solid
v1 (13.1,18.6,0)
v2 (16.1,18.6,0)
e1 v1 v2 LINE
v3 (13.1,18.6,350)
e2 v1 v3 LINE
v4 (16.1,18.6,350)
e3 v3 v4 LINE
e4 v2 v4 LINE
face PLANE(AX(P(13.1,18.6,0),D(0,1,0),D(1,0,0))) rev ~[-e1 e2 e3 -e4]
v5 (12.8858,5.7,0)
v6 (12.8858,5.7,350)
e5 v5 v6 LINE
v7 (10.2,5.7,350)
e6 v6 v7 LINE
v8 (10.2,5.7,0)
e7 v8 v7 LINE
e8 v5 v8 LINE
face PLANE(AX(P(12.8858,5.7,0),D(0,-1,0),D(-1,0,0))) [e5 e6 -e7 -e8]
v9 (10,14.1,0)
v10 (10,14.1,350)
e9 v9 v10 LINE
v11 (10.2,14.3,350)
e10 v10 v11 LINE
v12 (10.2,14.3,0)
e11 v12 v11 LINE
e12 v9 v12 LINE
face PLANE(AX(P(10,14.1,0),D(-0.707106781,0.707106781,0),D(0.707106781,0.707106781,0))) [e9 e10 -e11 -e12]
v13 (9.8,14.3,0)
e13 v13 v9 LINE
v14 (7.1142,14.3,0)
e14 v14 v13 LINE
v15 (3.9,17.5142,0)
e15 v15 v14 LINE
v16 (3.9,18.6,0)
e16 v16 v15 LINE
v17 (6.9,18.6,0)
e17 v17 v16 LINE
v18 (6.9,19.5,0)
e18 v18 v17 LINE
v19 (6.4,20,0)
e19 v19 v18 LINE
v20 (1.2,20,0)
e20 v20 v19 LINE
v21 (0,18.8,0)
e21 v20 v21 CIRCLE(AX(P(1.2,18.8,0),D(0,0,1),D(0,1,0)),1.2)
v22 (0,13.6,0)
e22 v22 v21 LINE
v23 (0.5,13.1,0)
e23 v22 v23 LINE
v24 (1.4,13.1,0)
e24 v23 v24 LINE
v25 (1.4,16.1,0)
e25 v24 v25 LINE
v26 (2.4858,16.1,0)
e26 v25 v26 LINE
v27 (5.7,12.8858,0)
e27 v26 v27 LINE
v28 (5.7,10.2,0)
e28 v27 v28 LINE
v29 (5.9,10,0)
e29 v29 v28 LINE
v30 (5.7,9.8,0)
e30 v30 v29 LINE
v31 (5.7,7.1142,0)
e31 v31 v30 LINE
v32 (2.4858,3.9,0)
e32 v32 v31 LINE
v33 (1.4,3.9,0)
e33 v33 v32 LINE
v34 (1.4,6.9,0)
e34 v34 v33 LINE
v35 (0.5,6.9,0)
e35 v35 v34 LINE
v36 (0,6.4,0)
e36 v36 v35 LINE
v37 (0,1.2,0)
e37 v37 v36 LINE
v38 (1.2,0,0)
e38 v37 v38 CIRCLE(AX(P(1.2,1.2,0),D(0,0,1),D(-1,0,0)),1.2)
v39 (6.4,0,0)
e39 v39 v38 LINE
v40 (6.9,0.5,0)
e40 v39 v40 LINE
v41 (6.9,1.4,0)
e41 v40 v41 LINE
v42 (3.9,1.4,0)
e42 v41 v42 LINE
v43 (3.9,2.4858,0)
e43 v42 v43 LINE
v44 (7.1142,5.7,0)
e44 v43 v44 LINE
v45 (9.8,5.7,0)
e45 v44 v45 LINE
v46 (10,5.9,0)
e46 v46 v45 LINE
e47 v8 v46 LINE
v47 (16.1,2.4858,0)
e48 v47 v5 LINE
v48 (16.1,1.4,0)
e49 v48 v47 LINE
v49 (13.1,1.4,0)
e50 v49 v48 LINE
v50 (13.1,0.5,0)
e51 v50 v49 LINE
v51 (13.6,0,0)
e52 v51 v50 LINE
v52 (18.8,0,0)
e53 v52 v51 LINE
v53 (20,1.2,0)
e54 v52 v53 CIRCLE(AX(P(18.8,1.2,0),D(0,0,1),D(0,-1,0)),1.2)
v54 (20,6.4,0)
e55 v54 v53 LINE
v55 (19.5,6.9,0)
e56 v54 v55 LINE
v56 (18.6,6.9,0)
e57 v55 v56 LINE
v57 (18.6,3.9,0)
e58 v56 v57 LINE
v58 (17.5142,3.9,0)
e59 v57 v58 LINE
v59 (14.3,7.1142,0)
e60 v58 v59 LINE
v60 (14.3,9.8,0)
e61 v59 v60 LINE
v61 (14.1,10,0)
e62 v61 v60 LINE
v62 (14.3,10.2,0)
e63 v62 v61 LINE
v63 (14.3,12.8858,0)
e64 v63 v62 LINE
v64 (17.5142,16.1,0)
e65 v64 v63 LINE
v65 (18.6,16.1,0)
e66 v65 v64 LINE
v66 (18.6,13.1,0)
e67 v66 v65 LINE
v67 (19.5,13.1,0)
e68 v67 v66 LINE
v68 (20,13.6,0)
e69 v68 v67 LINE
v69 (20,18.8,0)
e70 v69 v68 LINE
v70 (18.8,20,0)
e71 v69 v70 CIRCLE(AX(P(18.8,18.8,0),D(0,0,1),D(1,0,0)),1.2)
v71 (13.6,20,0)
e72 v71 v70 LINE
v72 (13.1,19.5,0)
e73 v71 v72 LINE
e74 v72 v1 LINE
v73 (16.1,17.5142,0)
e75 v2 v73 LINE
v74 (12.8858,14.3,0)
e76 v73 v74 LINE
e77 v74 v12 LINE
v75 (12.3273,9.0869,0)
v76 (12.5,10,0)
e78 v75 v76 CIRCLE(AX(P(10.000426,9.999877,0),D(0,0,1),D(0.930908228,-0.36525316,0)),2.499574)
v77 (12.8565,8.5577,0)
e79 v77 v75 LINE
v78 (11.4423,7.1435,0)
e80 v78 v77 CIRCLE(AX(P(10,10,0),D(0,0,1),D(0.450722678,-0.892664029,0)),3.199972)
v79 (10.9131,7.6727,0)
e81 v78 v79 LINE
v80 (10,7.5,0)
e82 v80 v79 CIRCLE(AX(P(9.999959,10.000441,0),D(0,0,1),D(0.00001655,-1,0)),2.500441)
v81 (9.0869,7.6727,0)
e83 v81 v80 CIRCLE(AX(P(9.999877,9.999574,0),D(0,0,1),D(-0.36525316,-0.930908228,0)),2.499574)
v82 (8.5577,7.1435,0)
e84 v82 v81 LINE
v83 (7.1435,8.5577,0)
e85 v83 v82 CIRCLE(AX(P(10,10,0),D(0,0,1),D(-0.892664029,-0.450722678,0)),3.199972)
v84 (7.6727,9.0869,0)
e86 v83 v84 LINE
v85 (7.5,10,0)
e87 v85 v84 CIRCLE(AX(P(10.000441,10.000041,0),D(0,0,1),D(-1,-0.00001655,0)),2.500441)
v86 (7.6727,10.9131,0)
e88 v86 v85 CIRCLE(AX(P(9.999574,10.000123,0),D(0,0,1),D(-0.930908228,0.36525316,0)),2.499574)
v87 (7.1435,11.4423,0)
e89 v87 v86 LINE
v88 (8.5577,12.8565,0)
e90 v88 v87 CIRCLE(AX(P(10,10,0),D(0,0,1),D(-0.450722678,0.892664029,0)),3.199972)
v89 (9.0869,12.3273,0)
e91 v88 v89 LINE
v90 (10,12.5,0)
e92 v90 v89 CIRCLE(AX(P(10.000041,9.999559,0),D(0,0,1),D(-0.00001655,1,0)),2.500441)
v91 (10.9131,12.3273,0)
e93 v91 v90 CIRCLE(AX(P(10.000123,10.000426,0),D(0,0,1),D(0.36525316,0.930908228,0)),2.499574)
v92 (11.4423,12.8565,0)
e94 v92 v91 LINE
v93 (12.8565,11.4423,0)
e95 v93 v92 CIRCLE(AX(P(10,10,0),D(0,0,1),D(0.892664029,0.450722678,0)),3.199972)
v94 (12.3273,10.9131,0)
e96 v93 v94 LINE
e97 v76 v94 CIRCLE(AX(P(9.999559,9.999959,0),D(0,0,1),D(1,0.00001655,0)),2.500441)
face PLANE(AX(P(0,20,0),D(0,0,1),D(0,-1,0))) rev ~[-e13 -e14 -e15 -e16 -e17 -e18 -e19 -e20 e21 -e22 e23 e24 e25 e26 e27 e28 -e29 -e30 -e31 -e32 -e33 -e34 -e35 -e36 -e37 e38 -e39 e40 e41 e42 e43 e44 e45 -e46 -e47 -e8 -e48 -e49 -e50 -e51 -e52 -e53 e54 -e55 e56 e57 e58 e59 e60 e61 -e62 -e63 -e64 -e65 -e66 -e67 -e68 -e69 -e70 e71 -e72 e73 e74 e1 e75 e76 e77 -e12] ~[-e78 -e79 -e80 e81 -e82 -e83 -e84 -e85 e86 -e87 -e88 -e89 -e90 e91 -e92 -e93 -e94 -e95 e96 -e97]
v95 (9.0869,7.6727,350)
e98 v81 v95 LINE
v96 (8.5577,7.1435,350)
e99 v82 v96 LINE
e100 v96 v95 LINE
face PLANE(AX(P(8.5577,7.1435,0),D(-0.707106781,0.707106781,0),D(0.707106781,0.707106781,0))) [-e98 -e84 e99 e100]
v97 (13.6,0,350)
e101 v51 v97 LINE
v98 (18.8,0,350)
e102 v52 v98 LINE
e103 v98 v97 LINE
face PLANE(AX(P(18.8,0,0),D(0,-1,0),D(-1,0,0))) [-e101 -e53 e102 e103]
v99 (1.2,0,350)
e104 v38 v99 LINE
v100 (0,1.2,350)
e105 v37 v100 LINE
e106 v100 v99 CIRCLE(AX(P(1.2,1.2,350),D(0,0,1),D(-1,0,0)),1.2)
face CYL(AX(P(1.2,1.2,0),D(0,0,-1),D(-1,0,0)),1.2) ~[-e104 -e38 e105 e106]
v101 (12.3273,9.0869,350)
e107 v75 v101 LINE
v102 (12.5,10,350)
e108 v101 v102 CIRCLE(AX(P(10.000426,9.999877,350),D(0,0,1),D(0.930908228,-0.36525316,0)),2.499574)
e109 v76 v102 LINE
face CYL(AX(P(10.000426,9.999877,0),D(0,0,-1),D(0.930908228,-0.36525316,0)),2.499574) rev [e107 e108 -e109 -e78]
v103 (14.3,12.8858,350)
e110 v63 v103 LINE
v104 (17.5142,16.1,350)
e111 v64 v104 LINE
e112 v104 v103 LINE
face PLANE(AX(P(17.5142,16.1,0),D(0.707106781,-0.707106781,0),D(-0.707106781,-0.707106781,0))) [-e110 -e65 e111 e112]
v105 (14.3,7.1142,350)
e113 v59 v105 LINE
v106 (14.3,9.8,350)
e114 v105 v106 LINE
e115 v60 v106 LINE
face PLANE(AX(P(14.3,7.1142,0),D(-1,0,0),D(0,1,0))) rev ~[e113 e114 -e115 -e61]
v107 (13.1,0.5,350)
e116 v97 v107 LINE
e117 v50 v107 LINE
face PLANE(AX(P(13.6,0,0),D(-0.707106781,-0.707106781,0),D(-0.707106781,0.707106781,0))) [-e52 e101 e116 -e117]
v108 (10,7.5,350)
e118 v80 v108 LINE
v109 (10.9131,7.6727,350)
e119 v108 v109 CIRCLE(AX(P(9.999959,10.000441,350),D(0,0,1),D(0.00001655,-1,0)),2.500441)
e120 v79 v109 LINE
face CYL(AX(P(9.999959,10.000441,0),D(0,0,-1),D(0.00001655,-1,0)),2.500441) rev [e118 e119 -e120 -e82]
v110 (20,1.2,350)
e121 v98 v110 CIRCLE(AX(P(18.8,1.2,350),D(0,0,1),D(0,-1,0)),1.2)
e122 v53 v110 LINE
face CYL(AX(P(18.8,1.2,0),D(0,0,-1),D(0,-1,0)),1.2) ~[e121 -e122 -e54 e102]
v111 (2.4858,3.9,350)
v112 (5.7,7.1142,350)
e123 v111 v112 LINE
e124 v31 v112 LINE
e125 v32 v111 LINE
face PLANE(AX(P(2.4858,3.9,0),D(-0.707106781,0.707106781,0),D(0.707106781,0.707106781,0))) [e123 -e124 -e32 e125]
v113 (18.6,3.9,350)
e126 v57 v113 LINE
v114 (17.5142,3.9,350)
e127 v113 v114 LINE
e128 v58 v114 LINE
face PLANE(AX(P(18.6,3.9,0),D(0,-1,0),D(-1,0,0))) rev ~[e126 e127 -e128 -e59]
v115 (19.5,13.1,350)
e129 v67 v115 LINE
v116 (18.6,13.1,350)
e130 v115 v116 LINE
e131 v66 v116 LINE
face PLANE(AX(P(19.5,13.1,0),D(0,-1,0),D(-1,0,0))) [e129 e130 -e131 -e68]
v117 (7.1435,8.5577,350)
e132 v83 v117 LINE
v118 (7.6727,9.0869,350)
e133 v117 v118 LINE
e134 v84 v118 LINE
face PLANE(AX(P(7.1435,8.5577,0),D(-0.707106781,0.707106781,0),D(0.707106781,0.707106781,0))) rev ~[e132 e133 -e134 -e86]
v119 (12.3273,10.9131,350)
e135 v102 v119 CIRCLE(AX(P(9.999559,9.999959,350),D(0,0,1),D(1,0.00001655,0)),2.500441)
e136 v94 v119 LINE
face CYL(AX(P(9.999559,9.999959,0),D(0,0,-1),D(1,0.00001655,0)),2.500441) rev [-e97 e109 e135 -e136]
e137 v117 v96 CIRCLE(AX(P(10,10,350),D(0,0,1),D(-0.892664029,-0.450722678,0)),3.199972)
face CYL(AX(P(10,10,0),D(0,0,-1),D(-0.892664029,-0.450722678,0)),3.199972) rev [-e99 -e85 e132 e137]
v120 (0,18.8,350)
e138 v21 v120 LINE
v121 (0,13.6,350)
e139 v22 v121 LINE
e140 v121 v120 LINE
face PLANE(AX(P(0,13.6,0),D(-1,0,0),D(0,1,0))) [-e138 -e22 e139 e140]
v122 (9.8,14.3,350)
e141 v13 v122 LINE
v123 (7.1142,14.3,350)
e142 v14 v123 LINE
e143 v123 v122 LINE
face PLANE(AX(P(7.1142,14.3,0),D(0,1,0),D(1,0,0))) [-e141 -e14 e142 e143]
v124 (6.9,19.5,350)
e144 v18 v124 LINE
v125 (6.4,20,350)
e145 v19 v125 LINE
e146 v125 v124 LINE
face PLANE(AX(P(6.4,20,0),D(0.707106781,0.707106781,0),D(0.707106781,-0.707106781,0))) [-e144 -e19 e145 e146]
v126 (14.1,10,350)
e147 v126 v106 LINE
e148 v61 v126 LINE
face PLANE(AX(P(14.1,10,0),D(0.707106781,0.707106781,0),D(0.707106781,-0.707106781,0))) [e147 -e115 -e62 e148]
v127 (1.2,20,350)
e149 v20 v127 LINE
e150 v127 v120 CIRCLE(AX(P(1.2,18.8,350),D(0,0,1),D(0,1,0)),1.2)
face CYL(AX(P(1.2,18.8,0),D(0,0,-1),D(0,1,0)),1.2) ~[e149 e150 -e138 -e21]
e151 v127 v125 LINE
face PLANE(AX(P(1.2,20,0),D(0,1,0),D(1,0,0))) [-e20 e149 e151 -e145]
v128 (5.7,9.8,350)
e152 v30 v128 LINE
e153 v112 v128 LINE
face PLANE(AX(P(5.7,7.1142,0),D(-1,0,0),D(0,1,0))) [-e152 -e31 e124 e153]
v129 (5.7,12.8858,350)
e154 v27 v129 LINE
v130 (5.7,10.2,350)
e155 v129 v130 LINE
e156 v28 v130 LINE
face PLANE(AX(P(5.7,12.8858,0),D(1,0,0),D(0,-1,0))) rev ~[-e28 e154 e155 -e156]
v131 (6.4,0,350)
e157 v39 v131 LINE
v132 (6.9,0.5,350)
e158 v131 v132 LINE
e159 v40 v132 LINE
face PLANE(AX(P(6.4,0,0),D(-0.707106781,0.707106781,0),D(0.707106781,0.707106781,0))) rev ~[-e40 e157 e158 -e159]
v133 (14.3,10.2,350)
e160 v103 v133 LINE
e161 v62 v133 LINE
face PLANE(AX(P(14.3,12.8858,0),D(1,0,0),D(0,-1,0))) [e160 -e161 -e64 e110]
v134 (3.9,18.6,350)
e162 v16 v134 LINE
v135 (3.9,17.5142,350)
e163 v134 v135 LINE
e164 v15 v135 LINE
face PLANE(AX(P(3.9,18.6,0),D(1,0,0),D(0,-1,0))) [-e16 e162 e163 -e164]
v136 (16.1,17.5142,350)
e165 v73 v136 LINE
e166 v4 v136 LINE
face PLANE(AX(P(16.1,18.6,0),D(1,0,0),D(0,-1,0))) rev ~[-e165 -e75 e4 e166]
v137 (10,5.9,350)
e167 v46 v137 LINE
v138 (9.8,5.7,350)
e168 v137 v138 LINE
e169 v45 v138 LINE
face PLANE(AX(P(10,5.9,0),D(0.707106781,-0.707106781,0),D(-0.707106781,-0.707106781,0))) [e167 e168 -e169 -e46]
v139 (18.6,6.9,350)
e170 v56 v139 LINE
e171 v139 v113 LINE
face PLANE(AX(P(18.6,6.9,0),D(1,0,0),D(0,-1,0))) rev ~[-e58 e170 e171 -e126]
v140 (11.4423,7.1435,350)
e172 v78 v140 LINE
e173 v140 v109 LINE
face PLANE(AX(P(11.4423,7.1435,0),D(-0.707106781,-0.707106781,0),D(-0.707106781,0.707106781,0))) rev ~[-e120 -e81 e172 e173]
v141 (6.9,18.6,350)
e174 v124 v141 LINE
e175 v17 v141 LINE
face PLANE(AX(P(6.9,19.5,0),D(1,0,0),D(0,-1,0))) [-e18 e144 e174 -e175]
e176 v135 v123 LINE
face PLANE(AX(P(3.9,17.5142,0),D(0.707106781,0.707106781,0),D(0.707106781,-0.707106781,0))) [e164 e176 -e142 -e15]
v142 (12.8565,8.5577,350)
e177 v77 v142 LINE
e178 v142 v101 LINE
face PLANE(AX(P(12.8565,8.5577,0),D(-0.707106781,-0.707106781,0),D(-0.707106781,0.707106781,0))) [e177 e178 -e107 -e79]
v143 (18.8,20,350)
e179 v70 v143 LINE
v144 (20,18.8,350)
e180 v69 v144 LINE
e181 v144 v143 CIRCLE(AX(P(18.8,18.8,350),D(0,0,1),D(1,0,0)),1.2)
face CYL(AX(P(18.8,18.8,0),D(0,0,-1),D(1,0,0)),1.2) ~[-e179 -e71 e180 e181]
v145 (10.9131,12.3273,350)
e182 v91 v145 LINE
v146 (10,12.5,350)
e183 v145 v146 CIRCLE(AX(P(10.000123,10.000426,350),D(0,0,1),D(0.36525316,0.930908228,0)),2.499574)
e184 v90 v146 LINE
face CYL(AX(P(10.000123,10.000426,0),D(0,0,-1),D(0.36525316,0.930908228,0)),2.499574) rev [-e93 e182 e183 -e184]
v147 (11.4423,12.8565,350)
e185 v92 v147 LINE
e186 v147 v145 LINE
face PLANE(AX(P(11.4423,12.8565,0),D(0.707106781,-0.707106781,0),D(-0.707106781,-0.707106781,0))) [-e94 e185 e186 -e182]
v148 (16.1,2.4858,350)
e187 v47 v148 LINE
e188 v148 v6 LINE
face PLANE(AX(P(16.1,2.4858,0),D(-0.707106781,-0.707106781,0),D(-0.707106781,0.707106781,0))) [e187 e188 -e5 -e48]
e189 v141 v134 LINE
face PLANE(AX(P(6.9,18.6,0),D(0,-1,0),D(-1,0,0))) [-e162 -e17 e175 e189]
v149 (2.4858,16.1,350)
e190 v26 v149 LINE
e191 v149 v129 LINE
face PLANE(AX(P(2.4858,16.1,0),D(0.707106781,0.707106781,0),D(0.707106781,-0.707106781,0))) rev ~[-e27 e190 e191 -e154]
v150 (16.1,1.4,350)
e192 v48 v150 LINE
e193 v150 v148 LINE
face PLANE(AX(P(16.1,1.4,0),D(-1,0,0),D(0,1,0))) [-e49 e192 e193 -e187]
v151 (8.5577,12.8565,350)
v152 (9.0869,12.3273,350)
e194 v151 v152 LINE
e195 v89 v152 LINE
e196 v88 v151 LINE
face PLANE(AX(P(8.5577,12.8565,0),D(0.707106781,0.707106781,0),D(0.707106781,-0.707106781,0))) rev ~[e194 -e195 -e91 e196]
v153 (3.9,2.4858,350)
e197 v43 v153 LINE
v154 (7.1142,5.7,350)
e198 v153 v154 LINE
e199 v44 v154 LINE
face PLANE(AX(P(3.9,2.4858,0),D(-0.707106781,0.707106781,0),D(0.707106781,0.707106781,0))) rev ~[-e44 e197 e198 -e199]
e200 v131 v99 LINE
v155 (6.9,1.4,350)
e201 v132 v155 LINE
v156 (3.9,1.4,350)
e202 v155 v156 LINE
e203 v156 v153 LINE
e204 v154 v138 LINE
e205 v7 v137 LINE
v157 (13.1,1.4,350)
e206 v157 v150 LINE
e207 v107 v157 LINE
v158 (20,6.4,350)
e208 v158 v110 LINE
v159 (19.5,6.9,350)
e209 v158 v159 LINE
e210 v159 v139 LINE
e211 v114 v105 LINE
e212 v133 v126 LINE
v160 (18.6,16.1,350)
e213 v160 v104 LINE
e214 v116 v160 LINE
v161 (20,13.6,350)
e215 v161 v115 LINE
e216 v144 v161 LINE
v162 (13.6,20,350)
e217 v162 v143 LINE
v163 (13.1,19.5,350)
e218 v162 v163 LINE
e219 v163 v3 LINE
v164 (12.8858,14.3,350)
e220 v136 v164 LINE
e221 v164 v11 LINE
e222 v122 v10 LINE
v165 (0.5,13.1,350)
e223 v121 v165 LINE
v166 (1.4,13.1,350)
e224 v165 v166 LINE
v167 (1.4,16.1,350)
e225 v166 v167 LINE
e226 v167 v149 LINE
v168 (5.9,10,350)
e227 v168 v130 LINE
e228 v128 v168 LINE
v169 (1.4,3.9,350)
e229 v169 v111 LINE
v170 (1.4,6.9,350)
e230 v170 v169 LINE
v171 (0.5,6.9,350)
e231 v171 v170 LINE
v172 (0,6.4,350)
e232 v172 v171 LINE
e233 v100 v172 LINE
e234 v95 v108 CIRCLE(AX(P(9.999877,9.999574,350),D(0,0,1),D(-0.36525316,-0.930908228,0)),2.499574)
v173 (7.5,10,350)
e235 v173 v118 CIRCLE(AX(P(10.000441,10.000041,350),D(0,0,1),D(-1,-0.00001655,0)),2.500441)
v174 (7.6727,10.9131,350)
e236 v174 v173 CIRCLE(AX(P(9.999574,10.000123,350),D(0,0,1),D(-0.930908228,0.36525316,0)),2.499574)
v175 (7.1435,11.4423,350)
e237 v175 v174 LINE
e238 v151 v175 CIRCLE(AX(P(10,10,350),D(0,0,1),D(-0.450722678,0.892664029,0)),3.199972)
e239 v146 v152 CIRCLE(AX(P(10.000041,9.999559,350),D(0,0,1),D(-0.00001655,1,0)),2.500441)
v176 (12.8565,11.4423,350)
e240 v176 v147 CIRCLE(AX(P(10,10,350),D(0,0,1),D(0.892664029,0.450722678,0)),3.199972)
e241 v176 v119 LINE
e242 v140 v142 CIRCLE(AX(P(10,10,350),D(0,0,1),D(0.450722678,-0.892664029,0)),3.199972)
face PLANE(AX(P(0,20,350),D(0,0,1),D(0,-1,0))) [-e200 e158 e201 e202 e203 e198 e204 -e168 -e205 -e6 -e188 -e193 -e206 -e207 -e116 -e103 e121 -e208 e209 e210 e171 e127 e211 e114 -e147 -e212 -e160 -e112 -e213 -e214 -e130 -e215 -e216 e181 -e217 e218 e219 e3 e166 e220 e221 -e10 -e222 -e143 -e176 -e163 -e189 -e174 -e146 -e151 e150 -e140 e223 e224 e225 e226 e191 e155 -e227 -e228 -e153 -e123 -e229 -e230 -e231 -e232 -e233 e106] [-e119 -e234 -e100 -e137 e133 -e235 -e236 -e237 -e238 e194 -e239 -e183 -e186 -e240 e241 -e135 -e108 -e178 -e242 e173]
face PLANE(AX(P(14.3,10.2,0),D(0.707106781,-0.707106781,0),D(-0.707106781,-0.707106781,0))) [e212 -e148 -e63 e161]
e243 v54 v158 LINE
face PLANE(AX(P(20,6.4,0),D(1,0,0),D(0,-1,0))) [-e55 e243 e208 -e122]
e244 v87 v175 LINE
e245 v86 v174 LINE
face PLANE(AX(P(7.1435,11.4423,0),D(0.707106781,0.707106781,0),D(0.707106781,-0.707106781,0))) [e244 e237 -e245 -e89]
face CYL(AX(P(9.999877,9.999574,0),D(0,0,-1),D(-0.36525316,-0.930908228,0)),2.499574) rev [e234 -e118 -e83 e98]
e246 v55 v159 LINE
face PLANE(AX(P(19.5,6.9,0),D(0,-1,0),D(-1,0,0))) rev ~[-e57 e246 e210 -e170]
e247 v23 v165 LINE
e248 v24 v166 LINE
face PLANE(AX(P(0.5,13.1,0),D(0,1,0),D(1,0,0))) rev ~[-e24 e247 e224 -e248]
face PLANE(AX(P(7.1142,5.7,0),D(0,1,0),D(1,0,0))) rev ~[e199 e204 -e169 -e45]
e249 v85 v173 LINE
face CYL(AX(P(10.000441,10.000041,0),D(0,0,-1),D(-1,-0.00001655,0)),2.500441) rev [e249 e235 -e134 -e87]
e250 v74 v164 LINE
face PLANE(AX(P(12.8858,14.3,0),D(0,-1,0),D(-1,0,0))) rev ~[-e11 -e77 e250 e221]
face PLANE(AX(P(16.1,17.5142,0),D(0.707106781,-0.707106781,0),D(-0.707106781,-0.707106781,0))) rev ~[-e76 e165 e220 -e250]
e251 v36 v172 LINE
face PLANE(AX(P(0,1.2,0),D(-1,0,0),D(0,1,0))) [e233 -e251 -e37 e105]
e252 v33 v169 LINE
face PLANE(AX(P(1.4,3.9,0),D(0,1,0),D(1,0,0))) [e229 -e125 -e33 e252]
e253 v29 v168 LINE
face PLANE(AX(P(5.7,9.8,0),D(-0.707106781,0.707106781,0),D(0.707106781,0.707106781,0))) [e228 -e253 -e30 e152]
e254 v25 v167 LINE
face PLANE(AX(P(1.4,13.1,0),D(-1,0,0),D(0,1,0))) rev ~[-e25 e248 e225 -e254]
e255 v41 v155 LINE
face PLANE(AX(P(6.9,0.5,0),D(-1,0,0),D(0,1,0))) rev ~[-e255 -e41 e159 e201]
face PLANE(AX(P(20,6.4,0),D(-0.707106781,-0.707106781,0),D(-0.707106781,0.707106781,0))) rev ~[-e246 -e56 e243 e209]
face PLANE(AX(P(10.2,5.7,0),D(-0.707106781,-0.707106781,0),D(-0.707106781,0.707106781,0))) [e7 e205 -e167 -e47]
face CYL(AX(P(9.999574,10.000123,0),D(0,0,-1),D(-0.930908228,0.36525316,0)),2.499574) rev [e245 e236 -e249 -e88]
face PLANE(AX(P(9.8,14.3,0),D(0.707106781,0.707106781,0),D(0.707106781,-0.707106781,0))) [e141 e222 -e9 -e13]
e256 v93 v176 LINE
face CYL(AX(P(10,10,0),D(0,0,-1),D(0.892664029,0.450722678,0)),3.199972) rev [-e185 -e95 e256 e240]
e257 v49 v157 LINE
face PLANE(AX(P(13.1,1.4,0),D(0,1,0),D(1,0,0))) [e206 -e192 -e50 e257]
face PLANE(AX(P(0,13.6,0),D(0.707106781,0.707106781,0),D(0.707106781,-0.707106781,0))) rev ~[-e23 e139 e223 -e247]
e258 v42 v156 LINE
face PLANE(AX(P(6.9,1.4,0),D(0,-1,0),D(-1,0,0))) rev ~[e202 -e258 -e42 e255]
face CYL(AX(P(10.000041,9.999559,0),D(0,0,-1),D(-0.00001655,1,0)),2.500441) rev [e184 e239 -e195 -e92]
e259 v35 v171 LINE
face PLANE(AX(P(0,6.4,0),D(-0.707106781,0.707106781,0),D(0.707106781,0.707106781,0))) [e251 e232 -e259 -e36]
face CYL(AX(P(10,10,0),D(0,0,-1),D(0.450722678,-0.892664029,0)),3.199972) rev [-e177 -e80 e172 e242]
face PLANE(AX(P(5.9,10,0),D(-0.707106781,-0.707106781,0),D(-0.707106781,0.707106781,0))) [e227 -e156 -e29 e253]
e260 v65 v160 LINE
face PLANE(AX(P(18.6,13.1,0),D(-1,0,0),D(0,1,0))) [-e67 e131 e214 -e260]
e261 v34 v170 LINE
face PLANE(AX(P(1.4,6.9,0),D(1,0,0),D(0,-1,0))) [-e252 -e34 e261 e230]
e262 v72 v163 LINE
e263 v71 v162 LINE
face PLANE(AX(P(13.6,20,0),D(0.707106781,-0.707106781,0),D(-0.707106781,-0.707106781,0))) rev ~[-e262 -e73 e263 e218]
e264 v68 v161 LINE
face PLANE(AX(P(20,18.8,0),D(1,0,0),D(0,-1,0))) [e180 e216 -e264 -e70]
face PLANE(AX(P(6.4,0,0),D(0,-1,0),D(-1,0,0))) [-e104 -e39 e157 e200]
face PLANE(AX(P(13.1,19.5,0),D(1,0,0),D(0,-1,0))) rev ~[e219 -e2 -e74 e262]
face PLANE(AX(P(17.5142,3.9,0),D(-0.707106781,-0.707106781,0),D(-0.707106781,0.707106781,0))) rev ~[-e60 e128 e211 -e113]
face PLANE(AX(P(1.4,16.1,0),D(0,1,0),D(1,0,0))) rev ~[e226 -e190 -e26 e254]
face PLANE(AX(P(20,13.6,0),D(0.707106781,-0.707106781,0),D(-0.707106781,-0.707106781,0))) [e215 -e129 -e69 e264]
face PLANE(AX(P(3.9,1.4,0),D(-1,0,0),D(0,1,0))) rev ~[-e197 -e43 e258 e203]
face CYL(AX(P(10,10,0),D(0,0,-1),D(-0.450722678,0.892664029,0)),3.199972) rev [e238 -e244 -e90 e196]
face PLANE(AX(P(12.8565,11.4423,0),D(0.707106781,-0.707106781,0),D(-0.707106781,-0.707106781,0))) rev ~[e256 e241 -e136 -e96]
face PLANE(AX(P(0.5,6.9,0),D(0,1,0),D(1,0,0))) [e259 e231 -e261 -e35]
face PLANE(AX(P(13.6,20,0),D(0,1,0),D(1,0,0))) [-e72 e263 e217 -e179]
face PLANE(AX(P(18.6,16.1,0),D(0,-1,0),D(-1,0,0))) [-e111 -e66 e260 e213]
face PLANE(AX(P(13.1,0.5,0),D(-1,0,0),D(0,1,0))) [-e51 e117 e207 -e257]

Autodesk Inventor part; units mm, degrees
ref_plane "YZ Plane" through (0, 0, 0) normal (1, 0, 0) x (0, 1, 0)
ref_plane "XZ Plane" through (0, 0, 0) normal (0, 1, 0) x (-1, 0, 0)
ref_plane "XY Plane" through (0, 0, 0) normal (0, 0, 1) x (1, 0, 0)
sketch "Sketch1" plane through (0, 0, 0) normal (0, 0, 1) x (1, 0, 0)
  line L0 (6.4, 0) -> (1.2, 0)
  line L1 (0, 1.2) -> (0, 6.4)
  line L2 (0.5, 6.9) -> (1.4, 6.9)
  line L3 (1.4, 6.9) -> (1.4, 3.9)
  line L4 (2.4858, 3.9) -> (5.7, 7.1142)
  line L5 (5.7, 7.1142) -> (5.7, 9.8)
  line L6 (3.9, 2.4858) -> (7.1142, 5.7)
  line L7 (7.1142, 5.7) -> (9.8, 5.7)
  line L8 (7.1435, 8.5577) -> (7.6727, 9.0869)
  line L9 (8.5577, 7.1435) -> (9.0869, 7.6727)
  line L10 (6.9, 0.5) -> (6.9, 1.4)
  line L11 (6.9, 1.4) -> (3.9, 1.4)
  line L12 (5.9, 10) -> (24.7723, 10) construction
  line L13 (10, 21.5486) -> (10, 5.9) construction
  line L14 (1.4, 3.9) -> (2.4858, 3.9)
  line L15 (3.9, 1.4) -> (3.9, 2.4858)
  arc A0 (7.5, 10) -> (7.6727, 9.0869) centre (10, 10) ccw
  arc A1 (9.0869, 7.6727) -> (10, 7.5) centre (10, 10) ccw
  line L16 (14.358, 14.358) -> (-3.5262, -3.5262) construction
  arc A2 (7.1435, 8.5577) -> (8.5577, 7.1435) centre (10, 10) ccw
  line L17 (7.5, 10) -> (5.9, 10)
  line L18 (10, 7.5) -> (10, 5.9)
  arc A3 (0, 1.2) -> (1.2, 0) centre (1.2, 1.2) ccw
  line L19 (0, 6.4) -> (0.5, 6.9)
  line L20 (6.4, 0) -> (6.9, 0.5)
  line L21 (5.7, 9.8) -> (5.9, 10)
  line L22 (10, 5.9) -> (9.8, 5.7)
  point P0 (0, 0)
  point P1 (6.9, 0)
  point P2 (0, 6.9)
  point P3 (5.7, 10)
  point P4 (10, 5.7)
  dimension "d0" = 10
  dimension "d1" = 10
  dimension "d3" = 1.4
  dimension "d4" = 6.1
  dimension "d5" = 6.1
  dimension "d6" = 3.1
  dimension "d7" = 3.1
  dimension "d9" = 5.7
  dimension "d10" = 5.7
  dimension "d12" = 2
  dimension "d14" = 2.5
  dimension "d15" = 3.2
  dimension "d21" = 1.2
  dimension "d22" = 0.5
  dimension "d23" = 0.5
  dimension "d24" = 0.5
  dimension "d25" = 0.5
  dimension "d26" = 0.2
  dimension "d27" = 0.2
  dimension "d28" = 0.2
  dimension "d29" = 0.2
extrude "Extrusion2" add sketch "Sketch1" along normal blind 350
pattern_circular "Circular Pattern2" count 4 over 360 about axis through (10, 10, 350) along (0, 0, 1) of "Extrusion2"
equation "\"d5\" = d4"
equation "\"d7\" = d6"
equation "\"d10\" = d9"
equation "\"d23\" = d22"
equation "\"d24\" = d22"
equation "\"d25\" = d24"
equation "\"d27\" = d26"
equation "\"d28\" = d26"
equation "\"d29\" = d28"
properties part number "profile350mm"
